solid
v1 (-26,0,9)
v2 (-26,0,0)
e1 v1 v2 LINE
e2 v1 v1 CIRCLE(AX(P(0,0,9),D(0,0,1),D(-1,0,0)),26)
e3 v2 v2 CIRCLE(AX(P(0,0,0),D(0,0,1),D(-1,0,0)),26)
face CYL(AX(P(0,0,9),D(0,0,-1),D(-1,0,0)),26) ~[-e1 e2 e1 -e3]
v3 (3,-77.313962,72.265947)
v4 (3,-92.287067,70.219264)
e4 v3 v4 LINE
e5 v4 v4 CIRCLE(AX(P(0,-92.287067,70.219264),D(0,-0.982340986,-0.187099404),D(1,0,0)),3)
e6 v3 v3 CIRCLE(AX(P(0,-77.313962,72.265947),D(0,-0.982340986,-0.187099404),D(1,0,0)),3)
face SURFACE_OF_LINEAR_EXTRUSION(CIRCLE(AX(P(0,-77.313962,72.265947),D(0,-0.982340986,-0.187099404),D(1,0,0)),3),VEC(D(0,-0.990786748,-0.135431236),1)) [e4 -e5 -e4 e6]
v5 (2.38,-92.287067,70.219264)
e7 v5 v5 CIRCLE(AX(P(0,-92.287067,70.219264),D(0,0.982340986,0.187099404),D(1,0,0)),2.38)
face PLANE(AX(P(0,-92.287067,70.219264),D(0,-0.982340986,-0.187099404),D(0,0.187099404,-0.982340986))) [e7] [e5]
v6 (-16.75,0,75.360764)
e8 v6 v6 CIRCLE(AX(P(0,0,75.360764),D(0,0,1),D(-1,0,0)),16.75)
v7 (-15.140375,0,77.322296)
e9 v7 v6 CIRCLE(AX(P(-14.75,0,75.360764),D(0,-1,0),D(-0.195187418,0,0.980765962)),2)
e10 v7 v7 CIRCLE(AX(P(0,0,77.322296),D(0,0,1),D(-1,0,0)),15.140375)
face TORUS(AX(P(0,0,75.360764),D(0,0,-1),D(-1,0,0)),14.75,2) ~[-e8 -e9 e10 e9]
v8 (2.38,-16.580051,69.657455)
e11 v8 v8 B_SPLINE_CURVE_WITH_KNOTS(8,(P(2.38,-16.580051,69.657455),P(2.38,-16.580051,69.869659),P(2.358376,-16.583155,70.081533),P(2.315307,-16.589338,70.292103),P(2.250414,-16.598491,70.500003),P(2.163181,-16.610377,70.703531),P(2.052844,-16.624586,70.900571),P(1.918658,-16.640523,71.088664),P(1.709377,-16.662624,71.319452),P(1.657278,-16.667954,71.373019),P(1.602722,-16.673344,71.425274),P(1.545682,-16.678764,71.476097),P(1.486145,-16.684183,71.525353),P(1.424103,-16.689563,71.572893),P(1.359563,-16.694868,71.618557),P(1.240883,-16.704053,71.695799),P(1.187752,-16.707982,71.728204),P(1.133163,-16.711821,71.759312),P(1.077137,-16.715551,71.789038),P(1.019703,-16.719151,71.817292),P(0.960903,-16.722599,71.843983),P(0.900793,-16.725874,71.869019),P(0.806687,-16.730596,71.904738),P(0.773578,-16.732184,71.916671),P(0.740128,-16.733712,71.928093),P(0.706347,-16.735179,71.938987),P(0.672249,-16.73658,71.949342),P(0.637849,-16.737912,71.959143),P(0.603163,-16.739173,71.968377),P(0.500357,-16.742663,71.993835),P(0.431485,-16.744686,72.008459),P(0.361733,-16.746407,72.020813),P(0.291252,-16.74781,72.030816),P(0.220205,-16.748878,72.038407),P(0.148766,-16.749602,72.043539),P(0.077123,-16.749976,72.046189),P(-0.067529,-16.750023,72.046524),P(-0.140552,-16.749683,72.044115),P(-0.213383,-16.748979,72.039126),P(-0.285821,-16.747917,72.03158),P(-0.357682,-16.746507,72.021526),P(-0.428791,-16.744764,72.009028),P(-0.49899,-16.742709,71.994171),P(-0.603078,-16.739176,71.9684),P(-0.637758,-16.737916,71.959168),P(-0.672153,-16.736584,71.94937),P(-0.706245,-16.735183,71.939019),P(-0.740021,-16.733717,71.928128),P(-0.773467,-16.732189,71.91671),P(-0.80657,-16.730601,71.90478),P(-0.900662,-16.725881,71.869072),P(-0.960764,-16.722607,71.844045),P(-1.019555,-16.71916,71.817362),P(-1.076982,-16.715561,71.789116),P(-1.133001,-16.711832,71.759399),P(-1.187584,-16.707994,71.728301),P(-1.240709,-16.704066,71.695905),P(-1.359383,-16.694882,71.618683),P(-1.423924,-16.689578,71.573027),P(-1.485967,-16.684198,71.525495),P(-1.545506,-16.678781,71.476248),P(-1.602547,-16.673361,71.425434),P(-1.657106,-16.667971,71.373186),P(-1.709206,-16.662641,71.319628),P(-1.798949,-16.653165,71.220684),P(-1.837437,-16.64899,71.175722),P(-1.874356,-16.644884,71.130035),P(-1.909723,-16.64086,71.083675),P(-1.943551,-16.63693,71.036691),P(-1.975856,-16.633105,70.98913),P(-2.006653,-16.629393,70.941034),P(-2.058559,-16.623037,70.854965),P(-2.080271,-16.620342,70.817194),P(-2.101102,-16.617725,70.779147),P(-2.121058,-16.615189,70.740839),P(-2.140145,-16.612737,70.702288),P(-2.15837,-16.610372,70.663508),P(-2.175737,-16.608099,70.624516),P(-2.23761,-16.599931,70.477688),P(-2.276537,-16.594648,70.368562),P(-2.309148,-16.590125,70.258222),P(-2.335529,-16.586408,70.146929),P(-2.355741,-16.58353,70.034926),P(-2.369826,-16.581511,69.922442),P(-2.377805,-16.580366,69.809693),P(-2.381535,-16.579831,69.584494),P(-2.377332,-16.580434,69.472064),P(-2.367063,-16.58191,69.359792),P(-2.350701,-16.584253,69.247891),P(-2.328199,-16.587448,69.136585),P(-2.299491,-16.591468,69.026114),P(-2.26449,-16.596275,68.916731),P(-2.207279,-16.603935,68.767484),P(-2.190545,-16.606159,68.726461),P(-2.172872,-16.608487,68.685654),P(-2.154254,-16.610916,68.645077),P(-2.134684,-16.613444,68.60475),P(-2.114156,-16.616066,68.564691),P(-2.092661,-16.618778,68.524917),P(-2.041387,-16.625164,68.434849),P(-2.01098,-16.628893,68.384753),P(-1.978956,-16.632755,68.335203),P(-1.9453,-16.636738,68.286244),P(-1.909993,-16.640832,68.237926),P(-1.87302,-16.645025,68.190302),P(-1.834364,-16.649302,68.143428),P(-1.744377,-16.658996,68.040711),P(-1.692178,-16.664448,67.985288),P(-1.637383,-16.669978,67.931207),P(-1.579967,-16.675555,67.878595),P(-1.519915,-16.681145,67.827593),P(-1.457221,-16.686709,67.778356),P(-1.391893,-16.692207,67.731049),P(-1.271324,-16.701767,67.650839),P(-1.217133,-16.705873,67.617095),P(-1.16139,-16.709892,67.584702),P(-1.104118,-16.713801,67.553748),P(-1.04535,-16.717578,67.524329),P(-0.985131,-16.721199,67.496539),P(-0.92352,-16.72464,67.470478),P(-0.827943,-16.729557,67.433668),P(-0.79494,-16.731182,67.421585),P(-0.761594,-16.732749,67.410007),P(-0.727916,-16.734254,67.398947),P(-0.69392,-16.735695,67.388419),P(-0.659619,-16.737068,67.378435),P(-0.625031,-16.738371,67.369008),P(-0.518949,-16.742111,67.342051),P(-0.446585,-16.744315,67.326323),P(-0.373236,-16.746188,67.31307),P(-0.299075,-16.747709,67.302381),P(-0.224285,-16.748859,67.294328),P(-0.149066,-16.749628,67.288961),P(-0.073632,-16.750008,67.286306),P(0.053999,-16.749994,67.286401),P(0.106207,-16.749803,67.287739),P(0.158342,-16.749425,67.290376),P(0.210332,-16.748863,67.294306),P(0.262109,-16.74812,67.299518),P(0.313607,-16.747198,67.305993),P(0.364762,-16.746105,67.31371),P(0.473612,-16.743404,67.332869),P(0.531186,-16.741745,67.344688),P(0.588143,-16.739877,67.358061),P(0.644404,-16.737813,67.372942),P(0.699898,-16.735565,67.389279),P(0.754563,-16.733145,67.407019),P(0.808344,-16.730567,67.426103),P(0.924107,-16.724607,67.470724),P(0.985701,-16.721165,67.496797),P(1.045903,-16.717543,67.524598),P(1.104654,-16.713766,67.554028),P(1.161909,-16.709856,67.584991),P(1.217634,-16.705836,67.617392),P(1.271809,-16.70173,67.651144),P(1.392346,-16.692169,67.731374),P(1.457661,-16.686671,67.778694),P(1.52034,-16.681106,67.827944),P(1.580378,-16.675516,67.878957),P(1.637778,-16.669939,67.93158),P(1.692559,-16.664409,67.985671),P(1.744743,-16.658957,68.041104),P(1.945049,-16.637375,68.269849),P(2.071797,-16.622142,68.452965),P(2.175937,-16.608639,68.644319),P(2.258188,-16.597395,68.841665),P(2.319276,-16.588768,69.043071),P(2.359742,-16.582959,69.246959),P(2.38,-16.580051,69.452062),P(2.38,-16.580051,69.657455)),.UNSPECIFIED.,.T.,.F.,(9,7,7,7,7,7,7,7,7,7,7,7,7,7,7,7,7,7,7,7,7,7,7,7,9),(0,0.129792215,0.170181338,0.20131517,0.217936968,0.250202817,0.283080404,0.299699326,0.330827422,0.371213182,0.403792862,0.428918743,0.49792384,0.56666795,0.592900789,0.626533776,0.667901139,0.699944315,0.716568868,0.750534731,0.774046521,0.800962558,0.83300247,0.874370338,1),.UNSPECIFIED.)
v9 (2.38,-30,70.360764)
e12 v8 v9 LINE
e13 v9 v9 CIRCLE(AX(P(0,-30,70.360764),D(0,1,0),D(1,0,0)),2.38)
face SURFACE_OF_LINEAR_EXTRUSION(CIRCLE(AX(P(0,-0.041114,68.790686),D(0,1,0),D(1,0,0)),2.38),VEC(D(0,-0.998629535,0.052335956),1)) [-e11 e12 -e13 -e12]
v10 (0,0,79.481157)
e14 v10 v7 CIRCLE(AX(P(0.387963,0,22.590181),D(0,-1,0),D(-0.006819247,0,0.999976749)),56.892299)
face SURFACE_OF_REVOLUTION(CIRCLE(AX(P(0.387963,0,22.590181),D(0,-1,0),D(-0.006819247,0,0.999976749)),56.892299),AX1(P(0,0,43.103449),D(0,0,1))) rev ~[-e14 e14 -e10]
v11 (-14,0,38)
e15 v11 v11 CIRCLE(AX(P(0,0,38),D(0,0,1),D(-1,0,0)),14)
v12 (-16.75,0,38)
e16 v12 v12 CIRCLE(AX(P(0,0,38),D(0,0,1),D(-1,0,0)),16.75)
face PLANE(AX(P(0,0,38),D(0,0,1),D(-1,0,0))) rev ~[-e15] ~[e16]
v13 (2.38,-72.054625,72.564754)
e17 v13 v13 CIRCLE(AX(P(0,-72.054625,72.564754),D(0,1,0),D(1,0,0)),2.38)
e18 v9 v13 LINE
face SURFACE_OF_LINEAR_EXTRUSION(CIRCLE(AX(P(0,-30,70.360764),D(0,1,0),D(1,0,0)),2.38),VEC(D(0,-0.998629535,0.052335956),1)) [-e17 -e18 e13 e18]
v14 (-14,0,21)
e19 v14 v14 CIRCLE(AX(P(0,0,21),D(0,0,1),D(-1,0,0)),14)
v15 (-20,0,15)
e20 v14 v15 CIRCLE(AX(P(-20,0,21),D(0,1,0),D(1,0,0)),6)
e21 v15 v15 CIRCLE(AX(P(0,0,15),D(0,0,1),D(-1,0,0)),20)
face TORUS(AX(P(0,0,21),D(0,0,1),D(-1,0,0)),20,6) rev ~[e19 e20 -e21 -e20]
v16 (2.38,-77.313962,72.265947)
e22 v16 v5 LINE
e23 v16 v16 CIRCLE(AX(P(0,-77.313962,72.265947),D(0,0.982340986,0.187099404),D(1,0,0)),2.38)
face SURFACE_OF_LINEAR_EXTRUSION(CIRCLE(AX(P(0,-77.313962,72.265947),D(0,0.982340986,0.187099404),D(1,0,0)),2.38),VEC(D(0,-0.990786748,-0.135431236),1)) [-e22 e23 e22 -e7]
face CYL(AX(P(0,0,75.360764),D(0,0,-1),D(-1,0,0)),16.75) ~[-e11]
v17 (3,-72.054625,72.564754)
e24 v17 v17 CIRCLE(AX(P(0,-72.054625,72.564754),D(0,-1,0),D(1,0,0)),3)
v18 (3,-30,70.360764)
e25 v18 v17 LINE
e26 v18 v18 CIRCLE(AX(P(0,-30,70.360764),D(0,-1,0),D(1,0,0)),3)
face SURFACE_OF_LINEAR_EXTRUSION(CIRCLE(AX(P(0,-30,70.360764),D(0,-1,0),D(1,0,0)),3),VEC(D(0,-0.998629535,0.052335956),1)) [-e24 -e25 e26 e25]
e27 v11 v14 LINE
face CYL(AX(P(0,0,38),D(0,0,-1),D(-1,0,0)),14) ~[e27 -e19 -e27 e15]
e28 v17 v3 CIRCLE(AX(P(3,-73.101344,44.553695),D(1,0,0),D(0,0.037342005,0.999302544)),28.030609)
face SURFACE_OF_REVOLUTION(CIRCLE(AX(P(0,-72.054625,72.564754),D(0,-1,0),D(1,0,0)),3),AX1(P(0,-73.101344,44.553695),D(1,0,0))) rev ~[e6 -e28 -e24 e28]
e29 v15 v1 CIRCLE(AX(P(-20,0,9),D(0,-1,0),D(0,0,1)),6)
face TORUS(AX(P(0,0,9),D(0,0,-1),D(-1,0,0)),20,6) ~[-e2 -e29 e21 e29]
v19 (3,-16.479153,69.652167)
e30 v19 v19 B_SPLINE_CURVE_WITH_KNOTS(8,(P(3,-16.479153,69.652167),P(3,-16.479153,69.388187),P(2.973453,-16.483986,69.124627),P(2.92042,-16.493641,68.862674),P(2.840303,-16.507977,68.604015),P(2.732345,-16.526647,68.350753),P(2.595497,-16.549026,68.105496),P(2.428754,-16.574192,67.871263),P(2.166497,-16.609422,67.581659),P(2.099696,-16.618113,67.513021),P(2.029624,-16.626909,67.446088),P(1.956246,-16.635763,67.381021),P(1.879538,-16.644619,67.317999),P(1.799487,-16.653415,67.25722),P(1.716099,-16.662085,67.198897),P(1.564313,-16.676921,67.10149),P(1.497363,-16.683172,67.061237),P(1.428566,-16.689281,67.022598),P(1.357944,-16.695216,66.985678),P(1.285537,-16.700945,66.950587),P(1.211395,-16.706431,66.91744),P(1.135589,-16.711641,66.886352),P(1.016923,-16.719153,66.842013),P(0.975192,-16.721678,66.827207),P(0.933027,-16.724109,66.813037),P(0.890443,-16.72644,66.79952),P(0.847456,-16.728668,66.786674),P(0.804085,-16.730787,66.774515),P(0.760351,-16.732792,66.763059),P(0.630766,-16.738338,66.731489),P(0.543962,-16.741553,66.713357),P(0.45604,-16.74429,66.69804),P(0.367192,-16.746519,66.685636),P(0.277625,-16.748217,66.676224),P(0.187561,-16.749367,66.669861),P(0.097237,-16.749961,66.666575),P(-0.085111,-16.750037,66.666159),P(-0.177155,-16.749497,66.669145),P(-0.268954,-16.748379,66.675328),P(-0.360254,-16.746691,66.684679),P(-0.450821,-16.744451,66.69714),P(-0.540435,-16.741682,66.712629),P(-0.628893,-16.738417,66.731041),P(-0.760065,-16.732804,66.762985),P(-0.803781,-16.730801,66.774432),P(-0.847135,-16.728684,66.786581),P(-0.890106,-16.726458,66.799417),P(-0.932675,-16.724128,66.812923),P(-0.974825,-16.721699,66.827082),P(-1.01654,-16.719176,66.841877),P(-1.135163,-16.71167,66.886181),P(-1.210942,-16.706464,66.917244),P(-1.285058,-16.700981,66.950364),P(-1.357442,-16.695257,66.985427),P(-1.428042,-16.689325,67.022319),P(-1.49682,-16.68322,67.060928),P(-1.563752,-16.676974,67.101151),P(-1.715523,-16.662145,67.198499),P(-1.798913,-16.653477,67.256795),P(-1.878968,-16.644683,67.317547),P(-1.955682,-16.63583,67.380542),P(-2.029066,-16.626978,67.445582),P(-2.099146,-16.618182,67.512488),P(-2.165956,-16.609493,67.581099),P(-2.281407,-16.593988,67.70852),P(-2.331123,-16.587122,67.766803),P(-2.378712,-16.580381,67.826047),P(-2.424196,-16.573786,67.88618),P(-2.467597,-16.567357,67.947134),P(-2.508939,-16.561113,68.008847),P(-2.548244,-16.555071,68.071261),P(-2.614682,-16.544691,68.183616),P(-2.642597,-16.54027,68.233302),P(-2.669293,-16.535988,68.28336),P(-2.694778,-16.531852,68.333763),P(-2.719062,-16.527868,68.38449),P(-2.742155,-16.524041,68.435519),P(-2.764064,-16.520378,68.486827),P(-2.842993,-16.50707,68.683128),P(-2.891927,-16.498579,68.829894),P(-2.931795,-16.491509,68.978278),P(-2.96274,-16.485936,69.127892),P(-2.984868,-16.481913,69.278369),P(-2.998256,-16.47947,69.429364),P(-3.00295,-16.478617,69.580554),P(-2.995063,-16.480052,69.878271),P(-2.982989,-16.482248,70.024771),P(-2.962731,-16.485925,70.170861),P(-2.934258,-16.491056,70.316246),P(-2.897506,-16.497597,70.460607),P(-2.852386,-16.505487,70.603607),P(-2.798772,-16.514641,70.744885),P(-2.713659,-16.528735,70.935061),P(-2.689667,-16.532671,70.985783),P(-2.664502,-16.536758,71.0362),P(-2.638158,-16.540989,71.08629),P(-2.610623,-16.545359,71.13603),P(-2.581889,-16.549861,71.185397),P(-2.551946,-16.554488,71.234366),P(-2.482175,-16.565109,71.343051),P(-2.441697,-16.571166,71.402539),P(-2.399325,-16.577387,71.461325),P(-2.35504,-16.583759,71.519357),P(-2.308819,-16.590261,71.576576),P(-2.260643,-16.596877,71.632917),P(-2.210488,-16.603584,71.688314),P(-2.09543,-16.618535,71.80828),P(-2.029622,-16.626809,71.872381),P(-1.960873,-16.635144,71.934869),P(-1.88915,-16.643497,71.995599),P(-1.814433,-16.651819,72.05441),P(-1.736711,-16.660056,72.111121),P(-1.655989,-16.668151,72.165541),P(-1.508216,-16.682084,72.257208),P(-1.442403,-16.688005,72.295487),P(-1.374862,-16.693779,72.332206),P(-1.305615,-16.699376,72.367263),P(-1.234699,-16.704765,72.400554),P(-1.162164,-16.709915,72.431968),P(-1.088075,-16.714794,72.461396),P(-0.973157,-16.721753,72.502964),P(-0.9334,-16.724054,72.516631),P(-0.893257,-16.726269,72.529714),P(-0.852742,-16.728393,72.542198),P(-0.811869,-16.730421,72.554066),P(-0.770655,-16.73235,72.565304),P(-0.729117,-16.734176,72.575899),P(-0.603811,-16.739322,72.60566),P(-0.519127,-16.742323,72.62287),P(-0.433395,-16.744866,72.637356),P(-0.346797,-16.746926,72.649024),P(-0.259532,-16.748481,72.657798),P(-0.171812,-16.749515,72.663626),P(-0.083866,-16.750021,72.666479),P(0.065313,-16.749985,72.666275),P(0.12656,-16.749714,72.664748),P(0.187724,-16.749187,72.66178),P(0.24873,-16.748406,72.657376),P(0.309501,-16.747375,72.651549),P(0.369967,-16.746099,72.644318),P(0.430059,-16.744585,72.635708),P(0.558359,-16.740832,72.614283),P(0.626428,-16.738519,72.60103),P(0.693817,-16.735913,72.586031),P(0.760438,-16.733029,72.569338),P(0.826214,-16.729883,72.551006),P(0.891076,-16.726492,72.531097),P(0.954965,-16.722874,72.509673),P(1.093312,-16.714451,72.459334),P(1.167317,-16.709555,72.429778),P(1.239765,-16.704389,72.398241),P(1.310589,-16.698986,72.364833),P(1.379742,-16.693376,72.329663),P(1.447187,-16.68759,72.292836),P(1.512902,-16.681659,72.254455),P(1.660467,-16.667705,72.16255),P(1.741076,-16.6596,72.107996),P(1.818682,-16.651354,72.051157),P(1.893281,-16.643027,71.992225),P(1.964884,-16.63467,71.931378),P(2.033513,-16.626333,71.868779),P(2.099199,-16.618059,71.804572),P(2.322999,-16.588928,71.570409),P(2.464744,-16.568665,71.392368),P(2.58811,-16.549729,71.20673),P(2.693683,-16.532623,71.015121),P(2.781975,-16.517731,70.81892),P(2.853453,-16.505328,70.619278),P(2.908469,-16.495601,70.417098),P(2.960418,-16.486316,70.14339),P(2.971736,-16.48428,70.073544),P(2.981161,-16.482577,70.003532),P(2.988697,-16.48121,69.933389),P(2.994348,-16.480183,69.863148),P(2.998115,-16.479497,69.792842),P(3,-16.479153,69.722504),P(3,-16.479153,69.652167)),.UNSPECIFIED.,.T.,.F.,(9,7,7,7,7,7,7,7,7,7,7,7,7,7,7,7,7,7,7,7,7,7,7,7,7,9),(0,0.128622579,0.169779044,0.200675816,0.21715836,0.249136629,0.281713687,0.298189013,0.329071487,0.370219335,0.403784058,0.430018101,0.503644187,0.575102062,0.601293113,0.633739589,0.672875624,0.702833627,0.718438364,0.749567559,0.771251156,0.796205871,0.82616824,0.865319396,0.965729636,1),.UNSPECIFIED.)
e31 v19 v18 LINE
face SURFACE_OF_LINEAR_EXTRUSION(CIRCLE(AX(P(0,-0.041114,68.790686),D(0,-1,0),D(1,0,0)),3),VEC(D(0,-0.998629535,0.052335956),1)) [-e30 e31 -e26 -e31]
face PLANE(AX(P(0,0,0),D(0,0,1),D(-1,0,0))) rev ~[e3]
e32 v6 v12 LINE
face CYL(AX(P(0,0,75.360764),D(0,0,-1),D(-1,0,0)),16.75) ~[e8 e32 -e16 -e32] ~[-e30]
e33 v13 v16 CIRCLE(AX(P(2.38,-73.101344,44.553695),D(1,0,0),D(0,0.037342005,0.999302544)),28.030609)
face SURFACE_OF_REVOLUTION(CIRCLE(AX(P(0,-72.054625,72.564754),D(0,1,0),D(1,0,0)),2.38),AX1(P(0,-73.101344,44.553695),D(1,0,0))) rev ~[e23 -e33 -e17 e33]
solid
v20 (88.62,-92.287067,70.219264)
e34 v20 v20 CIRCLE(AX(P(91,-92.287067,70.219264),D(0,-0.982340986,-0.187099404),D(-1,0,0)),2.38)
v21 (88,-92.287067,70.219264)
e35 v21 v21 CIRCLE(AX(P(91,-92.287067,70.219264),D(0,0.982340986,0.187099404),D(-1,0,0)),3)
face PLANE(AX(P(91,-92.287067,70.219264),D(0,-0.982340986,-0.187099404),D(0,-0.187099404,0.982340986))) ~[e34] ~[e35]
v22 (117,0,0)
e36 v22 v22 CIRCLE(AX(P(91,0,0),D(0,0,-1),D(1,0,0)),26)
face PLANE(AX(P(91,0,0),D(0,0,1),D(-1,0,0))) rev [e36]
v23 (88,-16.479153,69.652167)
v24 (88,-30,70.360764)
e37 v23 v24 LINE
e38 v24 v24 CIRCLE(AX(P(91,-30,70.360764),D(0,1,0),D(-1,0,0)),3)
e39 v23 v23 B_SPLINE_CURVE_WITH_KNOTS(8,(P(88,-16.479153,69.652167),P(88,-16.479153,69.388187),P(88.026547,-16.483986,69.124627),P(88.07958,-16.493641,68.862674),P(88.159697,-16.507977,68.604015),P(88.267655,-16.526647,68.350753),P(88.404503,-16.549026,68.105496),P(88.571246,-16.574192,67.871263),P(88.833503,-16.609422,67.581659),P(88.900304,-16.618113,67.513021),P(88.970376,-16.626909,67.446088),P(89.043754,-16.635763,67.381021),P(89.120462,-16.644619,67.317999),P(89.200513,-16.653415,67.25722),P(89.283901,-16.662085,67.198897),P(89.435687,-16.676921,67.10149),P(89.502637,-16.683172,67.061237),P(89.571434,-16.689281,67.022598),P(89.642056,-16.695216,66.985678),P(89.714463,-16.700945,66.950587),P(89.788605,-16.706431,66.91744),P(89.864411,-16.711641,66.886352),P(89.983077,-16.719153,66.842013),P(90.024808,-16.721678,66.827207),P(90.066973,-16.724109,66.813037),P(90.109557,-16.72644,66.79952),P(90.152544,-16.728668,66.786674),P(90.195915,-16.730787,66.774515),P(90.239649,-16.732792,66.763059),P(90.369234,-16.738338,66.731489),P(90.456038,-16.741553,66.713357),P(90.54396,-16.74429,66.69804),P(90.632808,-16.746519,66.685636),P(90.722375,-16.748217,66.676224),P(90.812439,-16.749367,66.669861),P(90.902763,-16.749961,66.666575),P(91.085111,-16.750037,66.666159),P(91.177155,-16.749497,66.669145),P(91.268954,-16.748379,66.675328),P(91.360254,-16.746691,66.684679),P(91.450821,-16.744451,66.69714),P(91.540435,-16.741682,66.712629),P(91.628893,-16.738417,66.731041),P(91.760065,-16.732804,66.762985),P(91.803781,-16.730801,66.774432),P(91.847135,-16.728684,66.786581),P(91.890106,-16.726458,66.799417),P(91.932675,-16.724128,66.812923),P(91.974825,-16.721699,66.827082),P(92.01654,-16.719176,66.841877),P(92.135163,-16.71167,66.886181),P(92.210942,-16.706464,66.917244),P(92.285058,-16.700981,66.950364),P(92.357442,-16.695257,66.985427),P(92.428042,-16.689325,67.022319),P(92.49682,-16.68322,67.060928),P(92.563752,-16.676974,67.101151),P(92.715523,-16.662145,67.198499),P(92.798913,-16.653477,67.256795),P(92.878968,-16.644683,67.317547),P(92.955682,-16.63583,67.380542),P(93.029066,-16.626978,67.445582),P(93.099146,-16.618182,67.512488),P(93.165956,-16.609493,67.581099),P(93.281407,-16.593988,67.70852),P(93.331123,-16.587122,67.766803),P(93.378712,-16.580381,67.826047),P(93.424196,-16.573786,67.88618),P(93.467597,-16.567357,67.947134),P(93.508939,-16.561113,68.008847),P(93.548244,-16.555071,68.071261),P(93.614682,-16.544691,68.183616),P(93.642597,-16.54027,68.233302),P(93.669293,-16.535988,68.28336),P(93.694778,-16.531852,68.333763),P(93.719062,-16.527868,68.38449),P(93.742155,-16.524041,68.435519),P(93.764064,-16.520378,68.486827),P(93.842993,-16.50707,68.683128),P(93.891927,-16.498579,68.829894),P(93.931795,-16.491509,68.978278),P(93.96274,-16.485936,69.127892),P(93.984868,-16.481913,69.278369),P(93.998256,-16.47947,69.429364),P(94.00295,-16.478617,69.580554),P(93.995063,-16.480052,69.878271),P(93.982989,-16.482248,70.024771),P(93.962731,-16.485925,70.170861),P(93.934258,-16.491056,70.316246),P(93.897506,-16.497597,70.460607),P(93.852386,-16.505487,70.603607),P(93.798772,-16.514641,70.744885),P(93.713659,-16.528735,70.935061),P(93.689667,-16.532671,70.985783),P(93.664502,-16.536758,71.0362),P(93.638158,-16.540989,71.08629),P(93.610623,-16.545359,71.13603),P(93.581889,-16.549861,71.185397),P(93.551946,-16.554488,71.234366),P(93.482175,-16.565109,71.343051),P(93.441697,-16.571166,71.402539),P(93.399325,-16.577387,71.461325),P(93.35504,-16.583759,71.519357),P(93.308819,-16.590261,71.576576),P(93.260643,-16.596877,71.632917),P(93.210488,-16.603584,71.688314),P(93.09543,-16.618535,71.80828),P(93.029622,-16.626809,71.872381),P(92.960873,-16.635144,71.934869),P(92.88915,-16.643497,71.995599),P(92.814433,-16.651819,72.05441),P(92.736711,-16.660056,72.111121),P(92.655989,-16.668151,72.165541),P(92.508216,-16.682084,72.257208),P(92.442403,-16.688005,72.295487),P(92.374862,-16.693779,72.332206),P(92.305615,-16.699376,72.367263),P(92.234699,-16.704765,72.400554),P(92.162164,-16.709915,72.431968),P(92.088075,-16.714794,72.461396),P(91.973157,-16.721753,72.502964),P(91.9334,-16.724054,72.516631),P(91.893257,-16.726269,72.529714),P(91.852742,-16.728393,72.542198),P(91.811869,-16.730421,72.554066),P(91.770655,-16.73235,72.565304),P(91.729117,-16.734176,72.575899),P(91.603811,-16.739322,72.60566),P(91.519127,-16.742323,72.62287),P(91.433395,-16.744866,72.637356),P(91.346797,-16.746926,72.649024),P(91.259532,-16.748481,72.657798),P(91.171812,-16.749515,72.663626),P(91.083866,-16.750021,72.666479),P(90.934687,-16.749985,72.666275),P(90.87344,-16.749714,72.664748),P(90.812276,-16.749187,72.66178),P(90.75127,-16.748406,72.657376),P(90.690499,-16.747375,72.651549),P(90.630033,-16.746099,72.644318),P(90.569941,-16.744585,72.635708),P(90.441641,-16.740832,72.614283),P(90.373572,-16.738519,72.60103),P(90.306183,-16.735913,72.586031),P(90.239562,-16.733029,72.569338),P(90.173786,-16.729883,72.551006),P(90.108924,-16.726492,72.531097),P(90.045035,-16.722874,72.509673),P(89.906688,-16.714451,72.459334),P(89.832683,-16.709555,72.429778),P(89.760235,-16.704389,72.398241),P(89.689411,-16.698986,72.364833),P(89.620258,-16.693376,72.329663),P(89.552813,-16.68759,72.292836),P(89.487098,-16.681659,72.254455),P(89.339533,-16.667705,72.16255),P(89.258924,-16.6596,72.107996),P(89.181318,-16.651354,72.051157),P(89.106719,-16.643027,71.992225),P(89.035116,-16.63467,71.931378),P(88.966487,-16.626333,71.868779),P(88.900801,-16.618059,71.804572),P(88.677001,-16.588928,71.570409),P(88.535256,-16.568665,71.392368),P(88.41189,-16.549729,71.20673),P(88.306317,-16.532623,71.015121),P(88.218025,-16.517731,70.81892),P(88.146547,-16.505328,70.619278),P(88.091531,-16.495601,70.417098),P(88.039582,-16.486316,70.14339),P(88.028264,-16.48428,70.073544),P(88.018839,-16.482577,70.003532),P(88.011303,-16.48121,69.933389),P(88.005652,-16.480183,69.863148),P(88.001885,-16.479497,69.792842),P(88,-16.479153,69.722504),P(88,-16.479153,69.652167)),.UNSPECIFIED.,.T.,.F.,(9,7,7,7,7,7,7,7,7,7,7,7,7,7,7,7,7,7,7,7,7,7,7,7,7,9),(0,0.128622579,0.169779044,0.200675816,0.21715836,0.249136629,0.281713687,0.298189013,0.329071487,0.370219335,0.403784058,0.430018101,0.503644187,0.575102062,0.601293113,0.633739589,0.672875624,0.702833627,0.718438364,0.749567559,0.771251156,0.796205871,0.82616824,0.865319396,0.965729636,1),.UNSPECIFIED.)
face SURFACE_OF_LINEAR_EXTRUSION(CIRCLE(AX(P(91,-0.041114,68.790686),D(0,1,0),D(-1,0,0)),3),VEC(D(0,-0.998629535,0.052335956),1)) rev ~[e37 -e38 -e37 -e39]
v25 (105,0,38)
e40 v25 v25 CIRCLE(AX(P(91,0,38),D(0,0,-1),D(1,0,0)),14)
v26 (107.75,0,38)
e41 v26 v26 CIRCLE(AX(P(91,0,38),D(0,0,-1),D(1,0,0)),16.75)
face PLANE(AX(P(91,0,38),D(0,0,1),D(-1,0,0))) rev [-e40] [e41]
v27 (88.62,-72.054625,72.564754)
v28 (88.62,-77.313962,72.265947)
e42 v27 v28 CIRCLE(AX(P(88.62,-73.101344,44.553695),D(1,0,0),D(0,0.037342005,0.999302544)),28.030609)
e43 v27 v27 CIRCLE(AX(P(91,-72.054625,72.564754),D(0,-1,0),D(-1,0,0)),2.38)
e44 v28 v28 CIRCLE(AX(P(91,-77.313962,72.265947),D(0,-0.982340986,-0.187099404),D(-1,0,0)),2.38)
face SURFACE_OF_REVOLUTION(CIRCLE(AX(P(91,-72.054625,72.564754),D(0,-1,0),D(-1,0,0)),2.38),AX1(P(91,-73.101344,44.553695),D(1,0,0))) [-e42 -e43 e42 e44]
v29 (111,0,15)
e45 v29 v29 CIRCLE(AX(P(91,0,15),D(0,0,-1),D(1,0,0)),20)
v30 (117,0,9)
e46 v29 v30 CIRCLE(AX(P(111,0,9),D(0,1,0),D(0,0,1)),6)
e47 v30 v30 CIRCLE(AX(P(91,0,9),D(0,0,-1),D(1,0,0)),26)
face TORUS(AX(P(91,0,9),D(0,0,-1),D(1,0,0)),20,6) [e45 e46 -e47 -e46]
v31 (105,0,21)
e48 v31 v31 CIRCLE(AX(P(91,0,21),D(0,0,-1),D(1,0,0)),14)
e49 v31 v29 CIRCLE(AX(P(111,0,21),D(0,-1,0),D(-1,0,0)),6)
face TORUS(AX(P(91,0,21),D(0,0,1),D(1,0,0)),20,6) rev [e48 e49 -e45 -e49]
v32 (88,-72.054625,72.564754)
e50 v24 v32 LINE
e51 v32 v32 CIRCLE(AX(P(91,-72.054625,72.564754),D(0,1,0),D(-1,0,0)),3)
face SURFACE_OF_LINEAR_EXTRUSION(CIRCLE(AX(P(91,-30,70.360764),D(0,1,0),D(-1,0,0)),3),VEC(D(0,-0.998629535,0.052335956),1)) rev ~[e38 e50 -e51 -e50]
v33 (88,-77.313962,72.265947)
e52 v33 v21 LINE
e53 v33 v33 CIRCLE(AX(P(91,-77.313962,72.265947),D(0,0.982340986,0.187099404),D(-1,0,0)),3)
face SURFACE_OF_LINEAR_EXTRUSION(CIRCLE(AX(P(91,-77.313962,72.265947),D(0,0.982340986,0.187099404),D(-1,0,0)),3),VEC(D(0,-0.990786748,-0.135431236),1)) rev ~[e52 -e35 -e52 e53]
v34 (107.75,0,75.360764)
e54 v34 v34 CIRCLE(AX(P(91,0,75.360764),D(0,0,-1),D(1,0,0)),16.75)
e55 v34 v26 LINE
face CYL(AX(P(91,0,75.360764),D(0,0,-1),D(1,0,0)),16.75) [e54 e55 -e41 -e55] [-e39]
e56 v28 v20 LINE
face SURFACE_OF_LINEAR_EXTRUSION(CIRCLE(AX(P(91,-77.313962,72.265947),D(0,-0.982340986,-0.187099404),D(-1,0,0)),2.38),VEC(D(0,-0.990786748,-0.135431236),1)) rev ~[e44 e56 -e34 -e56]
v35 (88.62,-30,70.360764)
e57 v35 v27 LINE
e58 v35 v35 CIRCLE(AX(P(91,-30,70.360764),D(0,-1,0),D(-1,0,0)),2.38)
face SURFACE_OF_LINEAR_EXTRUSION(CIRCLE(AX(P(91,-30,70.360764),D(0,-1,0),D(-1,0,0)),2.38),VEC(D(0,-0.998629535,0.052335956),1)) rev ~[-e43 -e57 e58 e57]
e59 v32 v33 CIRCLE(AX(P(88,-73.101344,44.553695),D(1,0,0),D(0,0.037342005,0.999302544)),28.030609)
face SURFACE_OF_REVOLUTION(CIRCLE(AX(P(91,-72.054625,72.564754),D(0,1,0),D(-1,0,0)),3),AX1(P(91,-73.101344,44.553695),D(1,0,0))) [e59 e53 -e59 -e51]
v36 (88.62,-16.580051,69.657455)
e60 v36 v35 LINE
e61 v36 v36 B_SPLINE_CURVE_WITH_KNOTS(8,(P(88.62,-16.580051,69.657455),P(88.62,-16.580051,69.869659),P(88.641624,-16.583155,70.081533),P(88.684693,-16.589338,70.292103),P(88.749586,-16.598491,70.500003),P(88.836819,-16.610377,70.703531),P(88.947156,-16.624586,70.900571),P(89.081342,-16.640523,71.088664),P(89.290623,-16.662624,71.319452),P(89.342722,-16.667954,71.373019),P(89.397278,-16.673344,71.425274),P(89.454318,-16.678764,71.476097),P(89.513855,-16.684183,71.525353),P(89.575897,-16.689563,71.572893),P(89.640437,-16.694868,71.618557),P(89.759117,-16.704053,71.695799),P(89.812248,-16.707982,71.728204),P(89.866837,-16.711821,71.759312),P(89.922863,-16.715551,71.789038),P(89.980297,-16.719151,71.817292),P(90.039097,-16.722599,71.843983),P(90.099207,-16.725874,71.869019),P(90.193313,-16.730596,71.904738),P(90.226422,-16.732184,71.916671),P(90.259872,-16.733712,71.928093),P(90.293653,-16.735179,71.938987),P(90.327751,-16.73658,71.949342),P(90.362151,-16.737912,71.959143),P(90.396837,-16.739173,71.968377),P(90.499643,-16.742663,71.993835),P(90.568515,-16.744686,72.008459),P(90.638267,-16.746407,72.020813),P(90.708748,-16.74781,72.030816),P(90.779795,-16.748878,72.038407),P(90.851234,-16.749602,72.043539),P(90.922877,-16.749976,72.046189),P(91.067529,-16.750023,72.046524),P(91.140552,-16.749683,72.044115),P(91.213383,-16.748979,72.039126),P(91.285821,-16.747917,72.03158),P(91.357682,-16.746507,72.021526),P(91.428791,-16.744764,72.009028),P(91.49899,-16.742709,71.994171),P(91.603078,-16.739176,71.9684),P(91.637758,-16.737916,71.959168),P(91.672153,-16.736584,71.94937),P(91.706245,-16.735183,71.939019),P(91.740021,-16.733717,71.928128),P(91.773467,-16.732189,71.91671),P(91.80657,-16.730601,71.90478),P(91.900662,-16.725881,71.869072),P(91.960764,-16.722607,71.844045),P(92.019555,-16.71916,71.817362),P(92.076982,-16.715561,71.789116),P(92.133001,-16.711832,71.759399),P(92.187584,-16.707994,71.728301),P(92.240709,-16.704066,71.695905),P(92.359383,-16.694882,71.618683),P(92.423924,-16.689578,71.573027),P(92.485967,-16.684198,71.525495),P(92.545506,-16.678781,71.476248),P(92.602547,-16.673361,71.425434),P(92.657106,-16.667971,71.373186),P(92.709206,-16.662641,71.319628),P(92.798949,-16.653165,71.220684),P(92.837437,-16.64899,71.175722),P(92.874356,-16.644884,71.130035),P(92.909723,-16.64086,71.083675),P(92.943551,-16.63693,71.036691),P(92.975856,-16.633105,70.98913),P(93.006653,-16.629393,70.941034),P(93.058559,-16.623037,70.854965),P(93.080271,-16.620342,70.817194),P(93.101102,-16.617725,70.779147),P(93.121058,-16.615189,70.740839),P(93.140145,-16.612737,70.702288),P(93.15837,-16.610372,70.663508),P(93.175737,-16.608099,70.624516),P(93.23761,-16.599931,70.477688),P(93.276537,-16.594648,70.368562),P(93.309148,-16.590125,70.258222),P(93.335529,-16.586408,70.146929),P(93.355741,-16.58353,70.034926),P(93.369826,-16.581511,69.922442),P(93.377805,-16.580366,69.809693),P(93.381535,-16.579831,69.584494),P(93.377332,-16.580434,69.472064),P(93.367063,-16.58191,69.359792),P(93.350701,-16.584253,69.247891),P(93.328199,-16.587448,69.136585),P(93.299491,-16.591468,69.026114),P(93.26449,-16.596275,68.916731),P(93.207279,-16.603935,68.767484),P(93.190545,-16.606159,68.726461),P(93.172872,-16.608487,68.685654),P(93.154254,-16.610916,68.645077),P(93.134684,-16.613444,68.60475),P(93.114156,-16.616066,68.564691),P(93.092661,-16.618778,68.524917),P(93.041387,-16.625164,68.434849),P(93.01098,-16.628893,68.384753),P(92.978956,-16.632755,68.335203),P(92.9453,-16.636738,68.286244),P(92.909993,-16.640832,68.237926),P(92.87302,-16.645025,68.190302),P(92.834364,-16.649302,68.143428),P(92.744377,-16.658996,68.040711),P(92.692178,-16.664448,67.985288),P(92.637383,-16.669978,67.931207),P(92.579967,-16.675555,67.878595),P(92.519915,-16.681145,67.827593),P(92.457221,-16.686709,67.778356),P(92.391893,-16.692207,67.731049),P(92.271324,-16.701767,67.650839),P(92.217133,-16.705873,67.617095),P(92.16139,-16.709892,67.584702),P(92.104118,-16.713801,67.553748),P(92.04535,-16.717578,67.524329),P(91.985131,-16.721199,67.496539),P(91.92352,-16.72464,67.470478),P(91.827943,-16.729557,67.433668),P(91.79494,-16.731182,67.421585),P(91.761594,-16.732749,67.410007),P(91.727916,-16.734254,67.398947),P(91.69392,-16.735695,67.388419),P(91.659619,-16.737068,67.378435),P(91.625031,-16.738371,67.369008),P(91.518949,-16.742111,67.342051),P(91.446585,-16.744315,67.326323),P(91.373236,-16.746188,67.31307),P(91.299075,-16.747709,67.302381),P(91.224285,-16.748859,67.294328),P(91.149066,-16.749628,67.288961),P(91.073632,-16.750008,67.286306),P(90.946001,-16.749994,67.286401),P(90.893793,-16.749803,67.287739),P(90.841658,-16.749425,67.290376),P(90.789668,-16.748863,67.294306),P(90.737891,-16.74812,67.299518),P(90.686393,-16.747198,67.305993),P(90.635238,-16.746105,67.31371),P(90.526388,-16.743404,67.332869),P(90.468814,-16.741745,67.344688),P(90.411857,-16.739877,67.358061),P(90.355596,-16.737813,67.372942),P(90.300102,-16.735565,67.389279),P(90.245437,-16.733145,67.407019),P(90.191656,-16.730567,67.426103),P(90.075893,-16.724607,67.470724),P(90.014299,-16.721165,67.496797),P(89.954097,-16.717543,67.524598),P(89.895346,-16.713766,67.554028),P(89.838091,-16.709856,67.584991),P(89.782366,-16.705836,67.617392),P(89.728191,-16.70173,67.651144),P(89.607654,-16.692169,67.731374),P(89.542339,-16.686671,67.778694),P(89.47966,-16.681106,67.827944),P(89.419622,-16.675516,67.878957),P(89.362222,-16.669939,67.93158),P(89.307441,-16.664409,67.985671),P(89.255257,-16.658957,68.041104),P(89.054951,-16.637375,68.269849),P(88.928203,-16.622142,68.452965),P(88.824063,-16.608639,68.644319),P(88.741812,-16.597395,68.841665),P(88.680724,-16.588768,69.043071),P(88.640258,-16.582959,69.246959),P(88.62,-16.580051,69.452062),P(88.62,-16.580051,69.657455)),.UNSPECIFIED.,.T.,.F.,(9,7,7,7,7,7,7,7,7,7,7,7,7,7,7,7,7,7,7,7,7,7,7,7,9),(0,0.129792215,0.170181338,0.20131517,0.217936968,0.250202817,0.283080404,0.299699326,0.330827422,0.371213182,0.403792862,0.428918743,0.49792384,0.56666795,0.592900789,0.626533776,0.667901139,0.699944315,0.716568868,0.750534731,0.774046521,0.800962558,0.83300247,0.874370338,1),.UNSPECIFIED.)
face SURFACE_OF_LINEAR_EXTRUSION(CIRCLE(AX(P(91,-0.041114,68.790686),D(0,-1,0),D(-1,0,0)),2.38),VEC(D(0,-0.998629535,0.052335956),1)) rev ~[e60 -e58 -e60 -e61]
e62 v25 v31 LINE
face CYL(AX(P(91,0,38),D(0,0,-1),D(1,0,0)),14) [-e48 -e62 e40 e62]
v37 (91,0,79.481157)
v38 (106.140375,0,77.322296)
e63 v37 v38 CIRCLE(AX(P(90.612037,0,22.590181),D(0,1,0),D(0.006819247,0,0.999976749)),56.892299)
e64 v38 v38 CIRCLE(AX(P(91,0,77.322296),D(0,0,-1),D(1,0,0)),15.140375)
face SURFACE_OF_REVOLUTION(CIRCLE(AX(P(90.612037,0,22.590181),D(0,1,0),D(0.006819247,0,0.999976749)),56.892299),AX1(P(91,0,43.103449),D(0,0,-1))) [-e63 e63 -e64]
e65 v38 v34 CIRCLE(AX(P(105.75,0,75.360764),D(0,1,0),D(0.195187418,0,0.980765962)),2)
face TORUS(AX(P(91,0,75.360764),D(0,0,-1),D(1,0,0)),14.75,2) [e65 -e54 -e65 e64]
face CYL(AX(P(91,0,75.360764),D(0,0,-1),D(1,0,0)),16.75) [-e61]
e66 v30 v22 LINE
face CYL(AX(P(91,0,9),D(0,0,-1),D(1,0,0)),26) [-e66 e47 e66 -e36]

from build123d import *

# Parameters (mm, degrees)
F5_R   = 3
F5_R_2 = 2.38


with BuildPart() as f1:
    # F0 (on Front) → F1 (revolve)
    with BuildSketch(Plane.XZ):
        with BuildLine():
            Line((-26, 9), (-26, 0))
            Line((-26, 0), (0, 0))
            Line((0, 0), (0, 79.4811573682))
            ThreePointArc((0, 79.4811573682), (-7.6430598765, 78.9127908857), (-15.1403748354, 77.3222962638))
            ThreePointArc((-15.1403748354, 77.3222962638), (-16.2960837091, 76.6294743796), (-16.75, 75.36076434))
            Line((-16.75, 75.36076434), (-16.75, 38))
            Line((-16.75, 38), (-14, 38))
            Line((-14, 38), (-14, 21))
            ThreePointArc((-14, 21), (-15.7573593129, 16.7573593129), (-20, 15))
            ThreePointArc((-20, 15), (-24.2426406871, 13.2426406871), (-26, 9))
        make_face()
    revolve(axis=Axis((0, 0, 43.1034490466), (0, 0, 1)))



with BuildPart() as f6:
    # F6: sweep along a path in F4
    with BuildLine(Plane.YZ) as f6_path:
        Line((-30, 62.3222962638), (-72.0546253435, 64.5262857866))
        ThreePointArc((-72.0546253435, 64.5262857866), (-73.9359901922, 64.536271665), (-75.8099691912, 64.3694300542))
        Line((-75.8099691912, 64.3694300542), (-90.7830742475, 62.3227473241))
    # F5 (on offset) → F6 (sweep)
    with BuildSketch(Plane.XZ.offset(30)):
        with Locations((0, 70.36076434)):
            Circle(F5_R)
        with Locations((0, 70.36076434)):
            Circle(F5_R_2, mode=Mode.SUBTRACT)
    sweep(path=f6_path.line)


with BuildPart() as f1_1:
    add(f1.part)

    add(f6.part)  # F8 merges F6
    # F8: sweep along a path in F7
    with BuildLine(Plane.YZ) as f8_path:
        Line((0, 60), (-29.9588860426, 61.5700786873))
    # F5 (on offset) → F8 (sweep)
    with BuildSketch(Plane.XZ.offset(30)):
        with Locations((0, 70.36076434)):
            Circle(F5_R)
        with Locations((0, 70.36076434)):
            Circle(F5_R_2, mode=Mode.SUBTRACT)
    sweep(path=f8_path.line)


with BuildPart() as f9_1:
    # F9: instance of F1
    add(f1_1.part.mirror(Plane.YZ.offset(45.5)))


solid = Compound([f1_1.part, f9_1.part])
